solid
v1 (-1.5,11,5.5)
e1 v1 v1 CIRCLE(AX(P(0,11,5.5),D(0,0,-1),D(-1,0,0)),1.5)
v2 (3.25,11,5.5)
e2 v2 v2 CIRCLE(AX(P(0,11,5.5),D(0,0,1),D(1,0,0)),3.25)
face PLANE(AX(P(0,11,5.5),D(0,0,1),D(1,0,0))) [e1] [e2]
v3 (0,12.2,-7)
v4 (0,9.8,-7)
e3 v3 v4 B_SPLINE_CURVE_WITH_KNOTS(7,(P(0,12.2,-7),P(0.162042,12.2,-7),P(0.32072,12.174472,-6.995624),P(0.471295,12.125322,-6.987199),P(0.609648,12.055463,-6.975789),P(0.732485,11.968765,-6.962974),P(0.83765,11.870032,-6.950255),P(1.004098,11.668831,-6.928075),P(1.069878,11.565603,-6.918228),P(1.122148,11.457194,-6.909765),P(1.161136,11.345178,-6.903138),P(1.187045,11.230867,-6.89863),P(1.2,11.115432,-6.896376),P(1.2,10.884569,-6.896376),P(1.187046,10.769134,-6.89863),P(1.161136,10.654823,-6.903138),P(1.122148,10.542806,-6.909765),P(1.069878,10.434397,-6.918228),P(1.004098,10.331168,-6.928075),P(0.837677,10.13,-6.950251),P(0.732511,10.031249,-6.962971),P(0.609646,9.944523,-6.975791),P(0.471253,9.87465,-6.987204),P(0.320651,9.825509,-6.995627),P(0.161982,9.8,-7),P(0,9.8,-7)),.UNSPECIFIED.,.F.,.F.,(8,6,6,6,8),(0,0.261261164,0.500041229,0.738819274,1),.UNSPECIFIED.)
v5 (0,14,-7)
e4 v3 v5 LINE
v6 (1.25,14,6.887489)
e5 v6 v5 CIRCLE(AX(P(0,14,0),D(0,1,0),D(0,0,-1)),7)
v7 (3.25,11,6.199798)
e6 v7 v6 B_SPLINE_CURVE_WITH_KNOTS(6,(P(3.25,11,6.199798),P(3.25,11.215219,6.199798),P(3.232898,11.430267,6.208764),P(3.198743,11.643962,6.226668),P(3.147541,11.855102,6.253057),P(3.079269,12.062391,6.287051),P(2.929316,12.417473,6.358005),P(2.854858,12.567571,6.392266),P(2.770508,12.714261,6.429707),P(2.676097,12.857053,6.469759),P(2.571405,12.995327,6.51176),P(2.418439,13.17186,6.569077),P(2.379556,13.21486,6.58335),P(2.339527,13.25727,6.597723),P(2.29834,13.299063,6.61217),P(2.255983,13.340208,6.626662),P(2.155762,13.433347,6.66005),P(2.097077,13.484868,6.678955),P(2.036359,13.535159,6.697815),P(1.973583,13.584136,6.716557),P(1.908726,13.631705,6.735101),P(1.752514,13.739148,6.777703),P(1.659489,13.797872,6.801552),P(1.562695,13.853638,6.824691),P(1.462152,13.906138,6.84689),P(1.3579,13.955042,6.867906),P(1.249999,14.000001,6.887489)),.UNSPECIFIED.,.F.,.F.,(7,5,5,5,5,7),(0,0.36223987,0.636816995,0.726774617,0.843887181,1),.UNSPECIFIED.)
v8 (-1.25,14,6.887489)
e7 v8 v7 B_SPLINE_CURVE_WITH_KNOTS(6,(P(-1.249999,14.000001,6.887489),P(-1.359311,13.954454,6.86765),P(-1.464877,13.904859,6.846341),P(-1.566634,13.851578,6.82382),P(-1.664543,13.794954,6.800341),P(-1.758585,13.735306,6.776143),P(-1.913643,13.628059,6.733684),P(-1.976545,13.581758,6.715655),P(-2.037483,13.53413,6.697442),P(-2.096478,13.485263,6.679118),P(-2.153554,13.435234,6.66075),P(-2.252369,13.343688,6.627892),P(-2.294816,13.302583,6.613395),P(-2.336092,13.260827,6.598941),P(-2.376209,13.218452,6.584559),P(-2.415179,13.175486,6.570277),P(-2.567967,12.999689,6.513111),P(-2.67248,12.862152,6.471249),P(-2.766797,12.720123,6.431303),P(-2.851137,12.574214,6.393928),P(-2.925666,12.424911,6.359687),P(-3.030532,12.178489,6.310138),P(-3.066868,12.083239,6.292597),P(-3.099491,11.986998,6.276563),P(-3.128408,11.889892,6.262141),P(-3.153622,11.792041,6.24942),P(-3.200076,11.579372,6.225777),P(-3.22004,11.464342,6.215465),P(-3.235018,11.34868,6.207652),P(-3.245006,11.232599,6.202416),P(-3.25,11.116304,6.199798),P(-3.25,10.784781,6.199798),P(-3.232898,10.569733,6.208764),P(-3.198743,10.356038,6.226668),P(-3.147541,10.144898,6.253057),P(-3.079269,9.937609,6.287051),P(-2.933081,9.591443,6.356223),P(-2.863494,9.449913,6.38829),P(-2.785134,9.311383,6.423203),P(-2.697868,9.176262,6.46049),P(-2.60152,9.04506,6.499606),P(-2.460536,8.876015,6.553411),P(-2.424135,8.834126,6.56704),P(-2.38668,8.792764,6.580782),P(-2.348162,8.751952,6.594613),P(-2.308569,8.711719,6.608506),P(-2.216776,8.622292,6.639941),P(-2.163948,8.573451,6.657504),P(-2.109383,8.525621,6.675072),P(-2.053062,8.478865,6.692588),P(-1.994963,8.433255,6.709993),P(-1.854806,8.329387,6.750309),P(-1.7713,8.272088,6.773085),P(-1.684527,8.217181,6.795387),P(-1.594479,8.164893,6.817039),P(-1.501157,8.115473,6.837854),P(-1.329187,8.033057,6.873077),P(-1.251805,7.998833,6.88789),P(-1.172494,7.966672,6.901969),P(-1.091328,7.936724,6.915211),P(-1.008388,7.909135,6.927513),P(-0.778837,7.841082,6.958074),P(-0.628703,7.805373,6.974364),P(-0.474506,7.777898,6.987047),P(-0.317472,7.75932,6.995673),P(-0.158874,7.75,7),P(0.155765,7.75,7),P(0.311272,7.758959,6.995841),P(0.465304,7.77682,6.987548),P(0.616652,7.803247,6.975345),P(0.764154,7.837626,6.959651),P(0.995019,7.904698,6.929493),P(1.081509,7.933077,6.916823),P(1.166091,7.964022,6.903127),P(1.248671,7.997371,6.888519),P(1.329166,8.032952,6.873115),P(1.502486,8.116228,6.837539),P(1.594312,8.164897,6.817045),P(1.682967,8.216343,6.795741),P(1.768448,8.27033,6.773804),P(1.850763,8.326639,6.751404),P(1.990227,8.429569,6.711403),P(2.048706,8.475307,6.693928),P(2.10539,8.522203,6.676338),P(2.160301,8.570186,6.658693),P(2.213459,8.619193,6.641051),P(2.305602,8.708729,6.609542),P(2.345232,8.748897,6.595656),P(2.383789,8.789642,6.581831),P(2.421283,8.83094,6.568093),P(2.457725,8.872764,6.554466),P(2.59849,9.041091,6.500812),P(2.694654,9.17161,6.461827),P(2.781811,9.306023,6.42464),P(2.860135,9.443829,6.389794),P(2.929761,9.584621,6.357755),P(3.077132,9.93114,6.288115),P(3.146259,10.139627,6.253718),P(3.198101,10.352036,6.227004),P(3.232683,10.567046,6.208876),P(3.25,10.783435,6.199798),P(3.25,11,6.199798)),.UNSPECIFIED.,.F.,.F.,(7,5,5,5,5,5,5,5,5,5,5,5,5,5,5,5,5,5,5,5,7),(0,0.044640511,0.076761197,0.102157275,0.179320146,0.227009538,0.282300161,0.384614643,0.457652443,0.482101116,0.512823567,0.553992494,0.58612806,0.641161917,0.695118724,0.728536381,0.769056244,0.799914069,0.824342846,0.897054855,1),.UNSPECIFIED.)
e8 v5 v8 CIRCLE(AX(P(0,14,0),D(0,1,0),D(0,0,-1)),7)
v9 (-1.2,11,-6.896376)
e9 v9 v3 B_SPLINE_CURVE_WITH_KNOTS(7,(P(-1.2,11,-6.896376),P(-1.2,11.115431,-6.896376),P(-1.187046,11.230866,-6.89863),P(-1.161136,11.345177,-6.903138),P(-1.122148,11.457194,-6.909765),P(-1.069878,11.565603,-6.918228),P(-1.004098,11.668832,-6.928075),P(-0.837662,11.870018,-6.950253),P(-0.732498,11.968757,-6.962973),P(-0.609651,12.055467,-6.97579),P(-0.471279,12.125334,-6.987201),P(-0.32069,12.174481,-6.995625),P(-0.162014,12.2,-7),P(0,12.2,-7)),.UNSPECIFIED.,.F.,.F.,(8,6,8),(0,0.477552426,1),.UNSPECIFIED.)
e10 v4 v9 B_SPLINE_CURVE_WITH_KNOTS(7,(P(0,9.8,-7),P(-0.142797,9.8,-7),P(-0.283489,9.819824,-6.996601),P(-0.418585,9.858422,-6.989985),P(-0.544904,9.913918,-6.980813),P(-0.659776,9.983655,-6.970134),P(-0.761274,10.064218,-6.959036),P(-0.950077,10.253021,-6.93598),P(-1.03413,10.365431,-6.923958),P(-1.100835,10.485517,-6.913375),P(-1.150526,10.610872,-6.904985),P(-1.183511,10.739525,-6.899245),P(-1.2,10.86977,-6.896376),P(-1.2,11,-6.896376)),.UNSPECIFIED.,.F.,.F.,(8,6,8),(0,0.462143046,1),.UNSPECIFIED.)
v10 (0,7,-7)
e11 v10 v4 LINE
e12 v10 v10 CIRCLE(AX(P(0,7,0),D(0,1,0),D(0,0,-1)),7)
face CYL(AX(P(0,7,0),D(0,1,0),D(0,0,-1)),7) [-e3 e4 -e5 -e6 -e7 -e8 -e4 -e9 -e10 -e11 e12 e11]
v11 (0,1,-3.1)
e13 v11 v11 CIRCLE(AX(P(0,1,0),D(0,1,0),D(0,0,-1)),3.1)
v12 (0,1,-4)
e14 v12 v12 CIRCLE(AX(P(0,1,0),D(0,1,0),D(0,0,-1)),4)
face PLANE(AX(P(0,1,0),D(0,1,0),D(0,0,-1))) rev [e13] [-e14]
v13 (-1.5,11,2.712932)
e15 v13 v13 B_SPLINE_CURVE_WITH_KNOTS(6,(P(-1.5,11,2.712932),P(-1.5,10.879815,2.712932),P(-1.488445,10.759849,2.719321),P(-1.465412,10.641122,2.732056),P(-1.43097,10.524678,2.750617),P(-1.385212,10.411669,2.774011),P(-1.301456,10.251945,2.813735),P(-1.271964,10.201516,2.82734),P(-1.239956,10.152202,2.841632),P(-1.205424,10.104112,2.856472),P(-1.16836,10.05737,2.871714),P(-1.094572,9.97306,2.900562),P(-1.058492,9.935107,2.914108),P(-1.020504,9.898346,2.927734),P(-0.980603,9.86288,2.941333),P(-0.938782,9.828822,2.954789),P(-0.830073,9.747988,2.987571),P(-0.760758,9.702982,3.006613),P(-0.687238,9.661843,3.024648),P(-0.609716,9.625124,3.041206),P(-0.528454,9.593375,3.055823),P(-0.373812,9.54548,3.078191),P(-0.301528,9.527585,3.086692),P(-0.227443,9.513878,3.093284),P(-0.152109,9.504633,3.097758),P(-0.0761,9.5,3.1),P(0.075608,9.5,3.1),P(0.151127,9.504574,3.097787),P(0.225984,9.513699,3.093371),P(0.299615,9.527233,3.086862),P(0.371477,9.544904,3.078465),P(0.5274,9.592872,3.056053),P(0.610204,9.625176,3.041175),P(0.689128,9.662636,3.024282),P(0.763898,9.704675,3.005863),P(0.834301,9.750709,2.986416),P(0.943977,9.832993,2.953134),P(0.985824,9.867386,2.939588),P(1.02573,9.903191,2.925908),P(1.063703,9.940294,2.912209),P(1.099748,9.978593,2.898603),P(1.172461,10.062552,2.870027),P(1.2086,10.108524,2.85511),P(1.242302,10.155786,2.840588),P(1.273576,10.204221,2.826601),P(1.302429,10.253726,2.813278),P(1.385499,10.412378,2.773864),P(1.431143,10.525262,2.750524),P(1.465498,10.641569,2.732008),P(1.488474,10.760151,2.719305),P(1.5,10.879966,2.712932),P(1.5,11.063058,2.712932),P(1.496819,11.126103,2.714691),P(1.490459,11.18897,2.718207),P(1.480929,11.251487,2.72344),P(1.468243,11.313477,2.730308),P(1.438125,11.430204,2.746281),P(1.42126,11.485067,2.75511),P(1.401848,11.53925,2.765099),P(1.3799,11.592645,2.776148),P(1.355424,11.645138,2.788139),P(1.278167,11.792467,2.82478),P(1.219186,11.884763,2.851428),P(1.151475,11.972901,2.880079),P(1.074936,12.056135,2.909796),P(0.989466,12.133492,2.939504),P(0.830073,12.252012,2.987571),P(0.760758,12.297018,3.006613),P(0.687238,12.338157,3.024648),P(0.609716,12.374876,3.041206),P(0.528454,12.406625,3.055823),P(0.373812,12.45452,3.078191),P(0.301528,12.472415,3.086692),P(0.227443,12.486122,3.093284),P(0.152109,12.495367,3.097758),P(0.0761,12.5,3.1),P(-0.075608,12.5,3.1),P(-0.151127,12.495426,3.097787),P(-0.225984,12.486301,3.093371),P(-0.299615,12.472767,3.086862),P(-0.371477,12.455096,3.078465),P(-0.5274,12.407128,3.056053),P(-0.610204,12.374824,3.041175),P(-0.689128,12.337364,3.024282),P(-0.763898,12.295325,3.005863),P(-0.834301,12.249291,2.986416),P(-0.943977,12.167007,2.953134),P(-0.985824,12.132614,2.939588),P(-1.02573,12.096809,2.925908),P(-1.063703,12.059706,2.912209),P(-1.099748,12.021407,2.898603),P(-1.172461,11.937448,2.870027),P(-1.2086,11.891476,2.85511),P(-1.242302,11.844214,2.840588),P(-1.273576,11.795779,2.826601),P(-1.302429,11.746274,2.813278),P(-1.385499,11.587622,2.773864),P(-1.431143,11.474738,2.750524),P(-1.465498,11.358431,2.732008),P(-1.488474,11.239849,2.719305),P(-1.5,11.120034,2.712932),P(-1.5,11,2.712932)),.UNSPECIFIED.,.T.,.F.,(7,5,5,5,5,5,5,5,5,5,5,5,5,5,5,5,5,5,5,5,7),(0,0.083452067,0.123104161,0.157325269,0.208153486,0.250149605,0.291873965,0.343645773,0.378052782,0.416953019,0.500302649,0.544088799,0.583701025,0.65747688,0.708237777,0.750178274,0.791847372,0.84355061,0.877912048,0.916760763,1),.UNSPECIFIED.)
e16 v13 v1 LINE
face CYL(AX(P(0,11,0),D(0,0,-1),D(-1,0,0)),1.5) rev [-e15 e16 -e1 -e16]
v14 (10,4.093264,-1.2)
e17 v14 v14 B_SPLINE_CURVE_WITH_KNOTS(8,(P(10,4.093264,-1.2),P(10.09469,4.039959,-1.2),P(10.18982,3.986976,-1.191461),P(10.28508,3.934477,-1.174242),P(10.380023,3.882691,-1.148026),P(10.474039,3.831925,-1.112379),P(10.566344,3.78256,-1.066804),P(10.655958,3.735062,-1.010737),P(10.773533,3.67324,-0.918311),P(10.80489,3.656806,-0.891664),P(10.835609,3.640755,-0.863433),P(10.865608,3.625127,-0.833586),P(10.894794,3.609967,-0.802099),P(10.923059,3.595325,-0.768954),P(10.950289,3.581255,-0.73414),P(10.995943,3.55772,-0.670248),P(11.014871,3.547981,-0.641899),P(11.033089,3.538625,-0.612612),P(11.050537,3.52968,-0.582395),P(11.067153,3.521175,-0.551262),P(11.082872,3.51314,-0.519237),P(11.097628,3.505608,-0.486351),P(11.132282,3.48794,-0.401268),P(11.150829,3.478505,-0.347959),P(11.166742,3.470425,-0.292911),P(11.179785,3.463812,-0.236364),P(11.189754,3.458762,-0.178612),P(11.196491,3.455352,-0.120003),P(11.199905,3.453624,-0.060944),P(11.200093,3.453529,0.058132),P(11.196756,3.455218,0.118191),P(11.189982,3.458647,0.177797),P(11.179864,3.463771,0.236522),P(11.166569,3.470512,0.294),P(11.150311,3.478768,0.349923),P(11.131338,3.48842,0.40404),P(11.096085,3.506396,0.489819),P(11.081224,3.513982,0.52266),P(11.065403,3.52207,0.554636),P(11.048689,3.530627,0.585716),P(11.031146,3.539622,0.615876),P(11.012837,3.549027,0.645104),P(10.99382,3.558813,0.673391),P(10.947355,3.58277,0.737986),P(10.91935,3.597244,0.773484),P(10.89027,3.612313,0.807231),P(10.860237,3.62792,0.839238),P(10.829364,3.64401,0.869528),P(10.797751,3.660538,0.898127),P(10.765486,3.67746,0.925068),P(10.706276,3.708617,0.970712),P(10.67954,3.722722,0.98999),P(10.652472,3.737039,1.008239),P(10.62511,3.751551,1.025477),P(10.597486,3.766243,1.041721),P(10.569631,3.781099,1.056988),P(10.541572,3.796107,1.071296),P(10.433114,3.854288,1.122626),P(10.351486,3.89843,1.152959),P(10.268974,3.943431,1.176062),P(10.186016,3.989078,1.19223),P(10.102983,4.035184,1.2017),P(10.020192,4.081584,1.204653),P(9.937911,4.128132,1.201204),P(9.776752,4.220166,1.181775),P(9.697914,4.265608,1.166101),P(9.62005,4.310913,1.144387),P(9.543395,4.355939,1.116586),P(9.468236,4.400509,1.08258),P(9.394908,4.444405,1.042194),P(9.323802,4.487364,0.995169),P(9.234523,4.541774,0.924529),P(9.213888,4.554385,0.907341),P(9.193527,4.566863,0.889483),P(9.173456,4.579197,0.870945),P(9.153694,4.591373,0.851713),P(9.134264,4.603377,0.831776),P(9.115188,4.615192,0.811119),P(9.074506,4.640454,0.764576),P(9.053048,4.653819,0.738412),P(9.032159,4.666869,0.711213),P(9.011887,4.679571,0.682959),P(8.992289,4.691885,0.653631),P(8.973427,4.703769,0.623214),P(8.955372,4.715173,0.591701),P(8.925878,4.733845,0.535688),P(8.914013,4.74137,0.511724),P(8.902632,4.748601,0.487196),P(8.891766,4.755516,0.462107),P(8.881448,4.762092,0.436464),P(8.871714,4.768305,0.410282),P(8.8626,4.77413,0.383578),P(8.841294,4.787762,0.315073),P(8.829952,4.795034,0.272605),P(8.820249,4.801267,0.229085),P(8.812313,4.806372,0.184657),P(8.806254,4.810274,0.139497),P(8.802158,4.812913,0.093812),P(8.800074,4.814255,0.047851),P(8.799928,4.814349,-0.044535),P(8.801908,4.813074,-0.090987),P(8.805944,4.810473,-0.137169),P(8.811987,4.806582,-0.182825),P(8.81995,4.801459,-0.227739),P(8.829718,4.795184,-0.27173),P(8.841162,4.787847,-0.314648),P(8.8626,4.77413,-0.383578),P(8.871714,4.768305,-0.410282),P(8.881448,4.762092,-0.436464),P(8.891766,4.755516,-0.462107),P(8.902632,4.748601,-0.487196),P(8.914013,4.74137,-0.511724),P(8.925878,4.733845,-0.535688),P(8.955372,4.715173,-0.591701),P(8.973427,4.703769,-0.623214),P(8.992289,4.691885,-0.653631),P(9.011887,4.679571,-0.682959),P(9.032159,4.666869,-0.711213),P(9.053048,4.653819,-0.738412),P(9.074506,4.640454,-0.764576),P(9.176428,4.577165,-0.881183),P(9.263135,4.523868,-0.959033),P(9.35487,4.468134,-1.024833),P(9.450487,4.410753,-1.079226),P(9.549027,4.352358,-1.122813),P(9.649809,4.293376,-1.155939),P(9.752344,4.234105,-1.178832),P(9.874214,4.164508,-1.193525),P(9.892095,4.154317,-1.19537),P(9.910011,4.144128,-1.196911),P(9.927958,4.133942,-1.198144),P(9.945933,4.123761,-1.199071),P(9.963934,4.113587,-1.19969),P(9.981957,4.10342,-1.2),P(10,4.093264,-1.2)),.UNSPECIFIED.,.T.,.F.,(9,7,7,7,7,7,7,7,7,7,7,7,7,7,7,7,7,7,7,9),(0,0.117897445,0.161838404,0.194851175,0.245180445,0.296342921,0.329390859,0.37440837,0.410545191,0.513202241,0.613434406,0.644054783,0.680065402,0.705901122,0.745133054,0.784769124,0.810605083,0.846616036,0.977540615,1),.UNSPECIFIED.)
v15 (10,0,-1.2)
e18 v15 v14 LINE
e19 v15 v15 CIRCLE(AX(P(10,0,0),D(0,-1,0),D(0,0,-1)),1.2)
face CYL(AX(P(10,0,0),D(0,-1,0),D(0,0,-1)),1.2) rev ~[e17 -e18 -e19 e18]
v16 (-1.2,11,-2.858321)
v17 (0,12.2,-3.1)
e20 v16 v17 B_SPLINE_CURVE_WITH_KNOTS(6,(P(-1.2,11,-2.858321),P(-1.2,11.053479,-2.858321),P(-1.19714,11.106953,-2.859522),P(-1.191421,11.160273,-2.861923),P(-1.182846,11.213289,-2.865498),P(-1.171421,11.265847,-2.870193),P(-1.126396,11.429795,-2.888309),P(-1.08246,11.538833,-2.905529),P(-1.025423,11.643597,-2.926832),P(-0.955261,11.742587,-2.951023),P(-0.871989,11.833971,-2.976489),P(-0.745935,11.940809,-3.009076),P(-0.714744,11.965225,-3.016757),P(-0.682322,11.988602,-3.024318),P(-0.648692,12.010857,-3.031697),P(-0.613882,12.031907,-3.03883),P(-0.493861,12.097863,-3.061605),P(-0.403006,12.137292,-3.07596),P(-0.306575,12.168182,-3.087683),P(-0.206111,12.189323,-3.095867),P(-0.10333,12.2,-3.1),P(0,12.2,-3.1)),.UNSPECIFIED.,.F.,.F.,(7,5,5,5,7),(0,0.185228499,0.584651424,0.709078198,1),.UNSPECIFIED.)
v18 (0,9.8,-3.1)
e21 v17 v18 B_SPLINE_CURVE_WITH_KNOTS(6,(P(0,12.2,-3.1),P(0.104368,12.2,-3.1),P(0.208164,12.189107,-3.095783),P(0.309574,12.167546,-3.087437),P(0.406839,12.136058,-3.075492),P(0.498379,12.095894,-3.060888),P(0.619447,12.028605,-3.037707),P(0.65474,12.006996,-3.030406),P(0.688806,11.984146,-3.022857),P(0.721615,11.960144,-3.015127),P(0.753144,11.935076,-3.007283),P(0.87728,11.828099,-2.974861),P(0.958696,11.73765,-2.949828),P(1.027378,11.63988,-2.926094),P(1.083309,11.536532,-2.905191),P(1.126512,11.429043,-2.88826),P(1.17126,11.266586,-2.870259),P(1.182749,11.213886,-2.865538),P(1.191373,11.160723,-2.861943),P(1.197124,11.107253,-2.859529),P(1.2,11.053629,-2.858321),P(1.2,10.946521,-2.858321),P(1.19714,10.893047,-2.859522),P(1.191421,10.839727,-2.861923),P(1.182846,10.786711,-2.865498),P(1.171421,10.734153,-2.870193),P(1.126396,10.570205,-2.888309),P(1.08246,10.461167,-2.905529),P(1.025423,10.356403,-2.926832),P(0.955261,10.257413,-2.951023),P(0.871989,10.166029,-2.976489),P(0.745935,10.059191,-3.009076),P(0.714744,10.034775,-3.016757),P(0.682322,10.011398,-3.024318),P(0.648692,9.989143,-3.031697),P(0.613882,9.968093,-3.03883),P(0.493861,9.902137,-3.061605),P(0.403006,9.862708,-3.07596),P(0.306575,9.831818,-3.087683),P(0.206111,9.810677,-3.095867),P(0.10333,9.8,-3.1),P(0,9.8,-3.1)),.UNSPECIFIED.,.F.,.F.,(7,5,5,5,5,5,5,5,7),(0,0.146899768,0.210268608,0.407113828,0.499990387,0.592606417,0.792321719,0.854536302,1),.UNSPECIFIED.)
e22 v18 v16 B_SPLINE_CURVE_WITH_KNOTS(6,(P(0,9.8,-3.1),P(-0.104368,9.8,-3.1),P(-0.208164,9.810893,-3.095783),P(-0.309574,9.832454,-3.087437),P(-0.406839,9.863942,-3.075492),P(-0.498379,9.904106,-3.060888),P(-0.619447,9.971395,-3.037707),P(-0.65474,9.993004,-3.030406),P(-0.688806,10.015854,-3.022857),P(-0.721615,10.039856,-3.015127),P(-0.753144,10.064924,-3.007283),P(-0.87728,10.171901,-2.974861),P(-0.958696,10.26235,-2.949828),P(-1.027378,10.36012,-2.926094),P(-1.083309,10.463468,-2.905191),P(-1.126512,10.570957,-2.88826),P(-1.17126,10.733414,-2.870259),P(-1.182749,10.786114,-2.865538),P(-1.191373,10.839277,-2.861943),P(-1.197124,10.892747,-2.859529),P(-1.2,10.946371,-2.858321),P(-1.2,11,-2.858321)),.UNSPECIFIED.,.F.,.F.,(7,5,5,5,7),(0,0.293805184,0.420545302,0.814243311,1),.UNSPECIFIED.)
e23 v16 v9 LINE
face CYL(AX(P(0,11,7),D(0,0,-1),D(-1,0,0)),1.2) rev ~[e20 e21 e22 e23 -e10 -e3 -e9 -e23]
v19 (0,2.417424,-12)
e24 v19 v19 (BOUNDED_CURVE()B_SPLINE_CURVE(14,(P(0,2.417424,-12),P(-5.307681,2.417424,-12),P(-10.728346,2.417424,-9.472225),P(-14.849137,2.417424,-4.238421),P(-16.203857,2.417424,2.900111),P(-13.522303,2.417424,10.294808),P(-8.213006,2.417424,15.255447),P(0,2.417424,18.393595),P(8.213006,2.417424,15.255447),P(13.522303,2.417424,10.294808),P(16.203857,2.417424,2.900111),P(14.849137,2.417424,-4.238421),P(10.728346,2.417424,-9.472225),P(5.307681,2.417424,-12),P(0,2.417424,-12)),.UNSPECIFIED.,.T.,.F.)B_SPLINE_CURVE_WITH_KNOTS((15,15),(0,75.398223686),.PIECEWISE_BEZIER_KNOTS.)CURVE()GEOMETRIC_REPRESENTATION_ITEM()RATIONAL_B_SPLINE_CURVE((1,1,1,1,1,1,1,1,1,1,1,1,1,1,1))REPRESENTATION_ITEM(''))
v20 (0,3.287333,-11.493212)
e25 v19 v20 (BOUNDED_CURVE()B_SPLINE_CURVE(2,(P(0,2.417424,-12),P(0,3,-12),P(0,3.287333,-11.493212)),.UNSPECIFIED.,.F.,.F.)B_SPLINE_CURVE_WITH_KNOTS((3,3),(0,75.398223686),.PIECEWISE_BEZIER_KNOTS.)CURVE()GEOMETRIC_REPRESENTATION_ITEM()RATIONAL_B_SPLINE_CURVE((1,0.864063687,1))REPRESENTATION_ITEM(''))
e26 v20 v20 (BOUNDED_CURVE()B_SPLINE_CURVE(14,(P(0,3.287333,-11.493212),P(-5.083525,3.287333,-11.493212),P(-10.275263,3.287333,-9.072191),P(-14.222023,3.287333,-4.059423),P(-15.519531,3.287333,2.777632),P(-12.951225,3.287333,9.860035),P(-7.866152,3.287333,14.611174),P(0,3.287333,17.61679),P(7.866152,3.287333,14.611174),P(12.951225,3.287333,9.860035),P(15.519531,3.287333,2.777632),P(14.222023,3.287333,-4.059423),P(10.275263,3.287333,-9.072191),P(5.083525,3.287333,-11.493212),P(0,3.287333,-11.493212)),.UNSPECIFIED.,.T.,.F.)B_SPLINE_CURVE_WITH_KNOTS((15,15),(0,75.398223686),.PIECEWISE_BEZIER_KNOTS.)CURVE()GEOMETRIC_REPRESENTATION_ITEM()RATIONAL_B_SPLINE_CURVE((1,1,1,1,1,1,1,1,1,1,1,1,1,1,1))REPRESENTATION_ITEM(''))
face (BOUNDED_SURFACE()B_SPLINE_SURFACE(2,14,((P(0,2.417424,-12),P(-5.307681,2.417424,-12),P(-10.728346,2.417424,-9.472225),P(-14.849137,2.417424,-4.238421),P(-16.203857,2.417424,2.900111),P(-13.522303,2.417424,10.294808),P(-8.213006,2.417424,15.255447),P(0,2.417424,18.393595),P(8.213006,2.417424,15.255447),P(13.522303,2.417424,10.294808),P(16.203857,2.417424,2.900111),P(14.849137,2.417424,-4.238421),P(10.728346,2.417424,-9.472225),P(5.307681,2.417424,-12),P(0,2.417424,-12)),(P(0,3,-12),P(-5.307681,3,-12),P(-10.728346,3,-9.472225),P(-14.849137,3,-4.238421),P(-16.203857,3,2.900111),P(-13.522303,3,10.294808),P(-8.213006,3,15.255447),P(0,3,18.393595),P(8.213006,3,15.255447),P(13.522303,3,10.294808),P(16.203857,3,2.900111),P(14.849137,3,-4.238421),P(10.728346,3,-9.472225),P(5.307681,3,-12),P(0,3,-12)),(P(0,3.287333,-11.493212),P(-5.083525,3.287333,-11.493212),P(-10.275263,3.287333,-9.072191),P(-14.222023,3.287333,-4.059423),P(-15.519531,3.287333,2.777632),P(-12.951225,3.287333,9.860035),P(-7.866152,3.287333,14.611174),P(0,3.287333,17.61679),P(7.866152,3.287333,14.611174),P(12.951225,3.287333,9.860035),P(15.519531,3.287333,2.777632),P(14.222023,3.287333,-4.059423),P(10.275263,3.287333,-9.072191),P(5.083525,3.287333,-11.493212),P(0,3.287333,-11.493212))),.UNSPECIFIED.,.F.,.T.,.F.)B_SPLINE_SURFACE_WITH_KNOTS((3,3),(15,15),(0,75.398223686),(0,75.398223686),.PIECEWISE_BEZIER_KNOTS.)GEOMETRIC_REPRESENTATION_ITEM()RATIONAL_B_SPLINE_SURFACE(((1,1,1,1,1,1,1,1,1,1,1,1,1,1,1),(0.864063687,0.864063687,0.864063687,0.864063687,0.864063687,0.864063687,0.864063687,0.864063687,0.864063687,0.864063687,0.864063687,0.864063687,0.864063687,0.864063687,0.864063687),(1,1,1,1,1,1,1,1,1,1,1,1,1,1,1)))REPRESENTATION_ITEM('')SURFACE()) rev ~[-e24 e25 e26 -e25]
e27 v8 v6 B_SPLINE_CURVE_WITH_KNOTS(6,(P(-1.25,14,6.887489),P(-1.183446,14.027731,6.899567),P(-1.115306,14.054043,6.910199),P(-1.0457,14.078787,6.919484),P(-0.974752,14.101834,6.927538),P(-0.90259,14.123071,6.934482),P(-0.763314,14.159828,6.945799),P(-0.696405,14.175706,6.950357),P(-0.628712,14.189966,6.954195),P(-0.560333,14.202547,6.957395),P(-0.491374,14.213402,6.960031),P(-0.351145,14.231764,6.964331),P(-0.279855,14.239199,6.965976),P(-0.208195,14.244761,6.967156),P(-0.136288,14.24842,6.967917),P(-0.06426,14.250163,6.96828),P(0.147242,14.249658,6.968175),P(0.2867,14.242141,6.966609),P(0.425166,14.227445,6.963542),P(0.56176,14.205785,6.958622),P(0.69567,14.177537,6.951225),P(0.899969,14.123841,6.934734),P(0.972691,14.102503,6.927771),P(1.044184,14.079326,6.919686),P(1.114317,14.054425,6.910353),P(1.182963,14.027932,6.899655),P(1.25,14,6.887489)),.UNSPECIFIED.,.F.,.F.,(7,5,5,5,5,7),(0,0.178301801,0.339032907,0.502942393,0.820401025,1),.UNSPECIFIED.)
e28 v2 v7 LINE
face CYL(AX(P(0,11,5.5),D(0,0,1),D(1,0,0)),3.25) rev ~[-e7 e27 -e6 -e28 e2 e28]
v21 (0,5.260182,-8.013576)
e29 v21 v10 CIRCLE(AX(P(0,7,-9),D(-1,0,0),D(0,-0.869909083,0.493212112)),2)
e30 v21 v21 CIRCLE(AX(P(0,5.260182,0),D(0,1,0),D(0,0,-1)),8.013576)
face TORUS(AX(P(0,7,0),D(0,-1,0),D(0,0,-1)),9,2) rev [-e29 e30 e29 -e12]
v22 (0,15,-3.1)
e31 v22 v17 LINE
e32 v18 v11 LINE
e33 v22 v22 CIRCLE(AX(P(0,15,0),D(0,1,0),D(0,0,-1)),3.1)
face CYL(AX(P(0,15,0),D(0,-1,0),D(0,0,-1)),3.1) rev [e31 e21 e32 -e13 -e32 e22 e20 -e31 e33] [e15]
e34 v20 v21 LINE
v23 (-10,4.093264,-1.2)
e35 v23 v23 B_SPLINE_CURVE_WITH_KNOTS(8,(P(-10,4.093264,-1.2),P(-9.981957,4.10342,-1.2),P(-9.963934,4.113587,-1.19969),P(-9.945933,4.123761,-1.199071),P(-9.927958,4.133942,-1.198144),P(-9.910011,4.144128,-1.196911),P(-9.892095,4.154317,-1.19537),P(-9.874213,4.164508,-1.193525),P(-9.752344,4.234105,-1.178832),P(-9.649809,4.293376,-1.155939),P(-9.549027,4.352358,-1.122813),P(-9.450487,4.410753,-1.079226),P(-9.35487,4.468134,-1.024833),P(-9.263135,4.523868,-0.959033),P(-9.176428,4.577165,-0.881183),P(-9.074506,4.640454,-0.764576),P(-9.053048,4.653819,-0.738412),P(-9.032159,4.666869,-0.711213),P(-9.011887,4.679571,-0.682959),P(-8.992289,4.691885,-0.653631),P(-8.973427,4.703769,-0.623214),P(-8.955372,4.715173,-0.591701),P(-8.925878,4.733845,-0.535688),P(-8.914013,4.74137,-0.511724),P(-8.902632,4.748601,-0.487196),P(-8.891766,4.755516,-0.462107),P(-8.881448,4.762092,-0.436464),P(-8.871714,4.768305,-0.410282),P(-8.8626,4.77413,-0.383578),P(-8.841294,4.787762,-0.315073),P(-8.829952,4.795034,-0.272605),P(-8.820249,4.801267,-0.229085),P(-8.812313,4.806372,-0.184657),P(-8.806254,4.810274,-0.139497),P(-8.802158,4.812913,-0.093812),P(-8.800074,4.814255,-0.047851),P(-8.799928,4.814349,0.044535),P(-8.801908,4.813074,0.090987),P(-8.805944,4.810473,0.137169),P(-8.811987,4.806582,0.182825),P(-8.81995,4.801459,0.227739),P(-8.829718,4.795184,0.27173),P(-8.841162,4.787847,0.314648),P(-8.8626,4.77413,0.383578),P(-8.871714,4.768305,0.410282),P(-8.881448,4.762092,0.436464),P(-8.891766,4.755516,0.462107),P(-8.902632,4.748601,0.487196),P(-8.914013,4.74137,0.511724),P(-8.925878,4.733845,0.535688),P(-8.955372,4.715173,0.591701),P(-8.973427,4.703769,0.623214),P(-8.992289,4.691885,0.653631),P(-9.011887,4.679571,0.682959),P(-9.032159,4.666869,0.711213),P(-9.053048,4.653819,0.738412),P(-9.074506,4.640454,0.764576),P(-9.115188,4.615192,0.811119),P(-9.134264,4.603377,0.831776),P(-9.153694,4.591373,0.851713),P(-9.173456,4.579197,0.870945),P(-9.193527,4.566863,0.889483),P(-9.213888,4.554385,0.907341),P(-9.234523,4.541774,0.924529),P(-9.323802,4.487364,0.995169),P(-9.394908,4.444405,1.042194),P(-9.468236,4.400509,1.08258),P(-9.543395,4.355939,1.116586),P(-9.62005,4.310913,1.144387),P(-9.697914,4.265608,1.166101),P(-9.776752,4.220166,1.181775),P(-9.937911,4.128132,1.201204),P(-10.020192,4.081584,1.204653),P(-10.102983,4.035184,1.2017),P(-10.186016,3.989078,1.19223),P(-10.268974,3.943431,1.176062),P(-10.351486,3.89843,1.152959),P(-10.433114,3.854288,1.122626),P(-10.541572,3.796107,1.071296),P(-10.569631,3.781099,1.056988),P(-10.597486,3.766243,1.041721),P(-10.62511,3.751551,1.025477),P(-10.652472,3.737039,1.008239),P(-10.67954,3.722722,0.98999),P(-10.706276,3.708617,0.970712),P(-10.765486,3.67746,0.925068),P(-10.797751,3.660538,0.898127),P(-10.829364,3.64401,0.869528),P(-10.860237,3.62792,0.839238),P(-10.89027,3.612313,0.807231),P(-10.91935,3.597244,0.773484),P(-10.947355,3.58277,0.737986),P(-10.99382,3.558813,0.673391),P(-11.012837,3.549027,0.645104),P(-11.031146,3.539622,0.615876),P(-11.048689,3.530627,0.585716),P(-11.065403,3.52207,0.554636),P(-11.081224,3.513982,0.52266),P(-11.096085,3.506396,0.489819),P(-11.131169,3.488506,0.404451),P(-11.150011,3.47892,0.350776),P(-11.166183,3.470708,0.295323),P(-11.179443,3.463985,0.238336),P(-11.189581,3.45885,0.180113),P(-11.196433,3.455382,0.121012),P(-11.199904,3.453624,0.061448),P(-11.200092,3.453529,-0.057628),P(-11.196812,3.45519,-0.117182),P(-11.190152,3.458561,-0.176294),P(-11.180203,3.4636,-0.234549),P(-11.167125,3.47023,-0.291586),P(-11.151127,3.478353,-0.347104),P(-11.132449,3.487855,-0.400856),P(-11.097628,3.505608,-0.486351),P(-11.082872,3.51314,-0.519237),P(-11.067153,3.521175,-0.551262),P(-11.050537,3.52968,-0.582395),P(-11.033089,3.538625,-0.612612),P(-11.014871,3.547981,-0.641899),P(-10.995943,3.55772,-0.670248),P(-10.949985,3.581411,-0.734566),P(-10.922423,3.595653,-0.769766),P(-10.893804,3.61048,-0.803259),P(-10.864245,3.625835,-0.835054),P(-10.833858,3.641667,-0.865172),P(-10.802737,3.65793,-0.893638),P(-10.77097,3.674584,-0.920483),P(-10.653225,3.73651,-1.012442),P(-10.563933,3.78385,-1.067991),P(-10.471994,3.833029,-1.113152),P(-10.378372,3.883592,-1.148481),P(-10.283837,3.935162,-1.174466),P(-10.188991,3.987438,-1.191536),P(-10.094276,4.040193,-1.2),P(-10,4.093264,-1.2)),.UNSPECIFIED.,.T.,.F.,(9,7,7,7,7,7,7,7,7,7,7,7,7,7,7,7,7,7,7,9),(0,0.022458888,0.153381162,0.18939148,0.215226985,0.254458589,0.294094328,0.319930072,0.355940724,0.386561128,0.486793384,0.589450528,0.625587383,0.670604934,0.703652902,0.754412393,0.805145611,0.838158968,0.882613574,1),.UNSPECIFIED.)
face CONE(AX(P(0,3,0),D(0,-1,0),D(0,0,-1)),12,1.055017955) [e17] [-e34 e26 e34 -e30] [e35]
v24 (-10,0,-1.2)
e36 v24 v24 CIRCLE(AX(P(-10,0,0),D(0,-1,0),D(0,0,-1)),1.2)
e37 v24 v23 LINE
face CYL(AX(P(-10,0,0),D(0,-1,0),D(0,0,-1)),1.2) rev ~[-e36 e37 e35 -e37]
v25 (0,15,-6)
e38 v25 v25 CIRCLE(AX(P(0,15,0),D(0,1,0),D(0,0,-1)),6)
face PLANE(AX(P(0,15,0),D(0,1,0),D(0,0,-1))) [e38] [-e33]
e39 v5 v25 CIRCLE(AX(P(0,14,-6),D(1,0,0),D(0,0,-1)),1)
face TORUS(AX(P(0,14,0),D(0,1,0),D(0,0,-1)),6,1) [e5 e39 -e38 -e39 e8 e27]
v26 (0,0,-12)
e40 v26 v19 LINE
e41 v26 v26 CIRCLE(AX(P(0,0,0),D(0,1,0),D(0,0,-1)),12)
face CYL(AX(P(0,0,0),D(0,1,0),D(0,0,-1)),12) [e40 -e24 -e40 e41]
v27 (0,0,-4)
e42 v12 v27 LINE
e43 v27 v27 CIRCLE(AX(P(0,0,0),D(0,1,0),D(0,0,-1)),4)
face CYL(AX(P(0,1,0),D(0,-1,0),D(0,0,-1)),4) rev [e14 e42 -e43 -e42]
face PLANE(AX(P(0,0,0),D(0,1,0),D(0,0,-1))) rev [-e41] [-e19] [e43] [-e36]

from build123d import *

# Parameters (mm, degrees)
CONG_1_R                                        = 1
ESQUISSE2_R                                     = 1.2
ENL_V_MAT_EXTRU_1_DEPTH                         = 23.649503412
CHAMBRAGE_POUR_VIS_T_TE_CYLINDRIQUE_D           = 2.4
CHAMBRAGE_POUR_VIS_T_TE_CYLINDRIQUE_CBORE_D     = 6.5
CHAMBRAGE_POUR_VIS_T_TE_CYLINDRIQUE_CBORE_DEPTH = 1.5
ESQUISSE3_R                                     = 1.5
ENL_V_MAT_EXTRU_2_DEPTH                         = 23.649503478


with BuildPart() as part:
    # Esquisse1 → Révolution1 (revolve)
    with BuildSketch(Plane.XY, mode=Mode.PRIVATE) as r_volution1_sk:
        with BuildLine():
            Line((3.1, 15), (3.1, 1))
            Line((3.1, 1), (4, 1))
            Line((4, 1), (4, 0))
            Line((4, 0), (12, 0))
            Line((12, 0), (12, 3))
            Line((12, 3), (8.013575778, 5.260181833))
            ThreePointArc((8.013575778, 5.260181833), (7.271872626, 5.993234994), (7, 7))
            Line((7, 7), (7, 15))
            Line((7, 15), (3.1, 15))
        make_face()
    revolve(r_volution1_sk.sketch.rotate(Axis((0, 0, 0), (0, 1, 0)), 90), axis=Axis((0, 0, 0), (0, 1, 0)))

    # Congé1
    cong_1_edges = [part.edges().sort_by_distance(p)[0] for p in [
        (0, 15, 7),
        (0, 3, 12),
    ]]
    fillet(cong_1_edges, radius=CONG_1_R)

    # Esquisse2 → Enlèv. mat.-Extru.1 (cut, through all)
    with BuildSketch(Plane.XZ):
        with Locations(Location((-10, 0, 0), (0, 0, 270))):
            Circle(ESQUISSE2_R)
        with Locations(Location((10, 0, 0), (0, 0, 270))):
            Circle(ESQUISSE2_R)
    extrude(amount=-ENL_V_MAT_EXTRU_1_DEPTH, mode=Mode.SUBTRACT)

    # Chambrage pour vis à tête cylindrique à 6 pans creux (ou vis CHC) M31 (through all)
    with Locations(Plane(origin=(0, 11, 7), x_dir=(1, 0, 0), z_dir=(0, 0, 1))):
        with Locations((0, 0)):
            CounterBoreHole(CHAMBRAGE_POUR_VIS_T_TE_CYLINDRIQUE_D / 2, CHAMBRAGE_POUR_VIS_T_TE_CYLINDRIQUE_CBORE_D / 2, CHAMBRAGE_POUR_VIS_T_TE_CYLINDRIQUE_CBORE_DEPTH)

    # Esquisse3 → Enlèv. mat.-Extru.2 (cut, through all)
    with BuildSketch(Plane.XY):
        with Locations(Location((0, 11, 0), (0, 0, 180))):
            Circle(ESQUISSE3_R)
    extrude(amount=ENL_V_MAT_EXTRU_2_DEPTH, mode=Mode.SUBTRACT)


solid = part.part
